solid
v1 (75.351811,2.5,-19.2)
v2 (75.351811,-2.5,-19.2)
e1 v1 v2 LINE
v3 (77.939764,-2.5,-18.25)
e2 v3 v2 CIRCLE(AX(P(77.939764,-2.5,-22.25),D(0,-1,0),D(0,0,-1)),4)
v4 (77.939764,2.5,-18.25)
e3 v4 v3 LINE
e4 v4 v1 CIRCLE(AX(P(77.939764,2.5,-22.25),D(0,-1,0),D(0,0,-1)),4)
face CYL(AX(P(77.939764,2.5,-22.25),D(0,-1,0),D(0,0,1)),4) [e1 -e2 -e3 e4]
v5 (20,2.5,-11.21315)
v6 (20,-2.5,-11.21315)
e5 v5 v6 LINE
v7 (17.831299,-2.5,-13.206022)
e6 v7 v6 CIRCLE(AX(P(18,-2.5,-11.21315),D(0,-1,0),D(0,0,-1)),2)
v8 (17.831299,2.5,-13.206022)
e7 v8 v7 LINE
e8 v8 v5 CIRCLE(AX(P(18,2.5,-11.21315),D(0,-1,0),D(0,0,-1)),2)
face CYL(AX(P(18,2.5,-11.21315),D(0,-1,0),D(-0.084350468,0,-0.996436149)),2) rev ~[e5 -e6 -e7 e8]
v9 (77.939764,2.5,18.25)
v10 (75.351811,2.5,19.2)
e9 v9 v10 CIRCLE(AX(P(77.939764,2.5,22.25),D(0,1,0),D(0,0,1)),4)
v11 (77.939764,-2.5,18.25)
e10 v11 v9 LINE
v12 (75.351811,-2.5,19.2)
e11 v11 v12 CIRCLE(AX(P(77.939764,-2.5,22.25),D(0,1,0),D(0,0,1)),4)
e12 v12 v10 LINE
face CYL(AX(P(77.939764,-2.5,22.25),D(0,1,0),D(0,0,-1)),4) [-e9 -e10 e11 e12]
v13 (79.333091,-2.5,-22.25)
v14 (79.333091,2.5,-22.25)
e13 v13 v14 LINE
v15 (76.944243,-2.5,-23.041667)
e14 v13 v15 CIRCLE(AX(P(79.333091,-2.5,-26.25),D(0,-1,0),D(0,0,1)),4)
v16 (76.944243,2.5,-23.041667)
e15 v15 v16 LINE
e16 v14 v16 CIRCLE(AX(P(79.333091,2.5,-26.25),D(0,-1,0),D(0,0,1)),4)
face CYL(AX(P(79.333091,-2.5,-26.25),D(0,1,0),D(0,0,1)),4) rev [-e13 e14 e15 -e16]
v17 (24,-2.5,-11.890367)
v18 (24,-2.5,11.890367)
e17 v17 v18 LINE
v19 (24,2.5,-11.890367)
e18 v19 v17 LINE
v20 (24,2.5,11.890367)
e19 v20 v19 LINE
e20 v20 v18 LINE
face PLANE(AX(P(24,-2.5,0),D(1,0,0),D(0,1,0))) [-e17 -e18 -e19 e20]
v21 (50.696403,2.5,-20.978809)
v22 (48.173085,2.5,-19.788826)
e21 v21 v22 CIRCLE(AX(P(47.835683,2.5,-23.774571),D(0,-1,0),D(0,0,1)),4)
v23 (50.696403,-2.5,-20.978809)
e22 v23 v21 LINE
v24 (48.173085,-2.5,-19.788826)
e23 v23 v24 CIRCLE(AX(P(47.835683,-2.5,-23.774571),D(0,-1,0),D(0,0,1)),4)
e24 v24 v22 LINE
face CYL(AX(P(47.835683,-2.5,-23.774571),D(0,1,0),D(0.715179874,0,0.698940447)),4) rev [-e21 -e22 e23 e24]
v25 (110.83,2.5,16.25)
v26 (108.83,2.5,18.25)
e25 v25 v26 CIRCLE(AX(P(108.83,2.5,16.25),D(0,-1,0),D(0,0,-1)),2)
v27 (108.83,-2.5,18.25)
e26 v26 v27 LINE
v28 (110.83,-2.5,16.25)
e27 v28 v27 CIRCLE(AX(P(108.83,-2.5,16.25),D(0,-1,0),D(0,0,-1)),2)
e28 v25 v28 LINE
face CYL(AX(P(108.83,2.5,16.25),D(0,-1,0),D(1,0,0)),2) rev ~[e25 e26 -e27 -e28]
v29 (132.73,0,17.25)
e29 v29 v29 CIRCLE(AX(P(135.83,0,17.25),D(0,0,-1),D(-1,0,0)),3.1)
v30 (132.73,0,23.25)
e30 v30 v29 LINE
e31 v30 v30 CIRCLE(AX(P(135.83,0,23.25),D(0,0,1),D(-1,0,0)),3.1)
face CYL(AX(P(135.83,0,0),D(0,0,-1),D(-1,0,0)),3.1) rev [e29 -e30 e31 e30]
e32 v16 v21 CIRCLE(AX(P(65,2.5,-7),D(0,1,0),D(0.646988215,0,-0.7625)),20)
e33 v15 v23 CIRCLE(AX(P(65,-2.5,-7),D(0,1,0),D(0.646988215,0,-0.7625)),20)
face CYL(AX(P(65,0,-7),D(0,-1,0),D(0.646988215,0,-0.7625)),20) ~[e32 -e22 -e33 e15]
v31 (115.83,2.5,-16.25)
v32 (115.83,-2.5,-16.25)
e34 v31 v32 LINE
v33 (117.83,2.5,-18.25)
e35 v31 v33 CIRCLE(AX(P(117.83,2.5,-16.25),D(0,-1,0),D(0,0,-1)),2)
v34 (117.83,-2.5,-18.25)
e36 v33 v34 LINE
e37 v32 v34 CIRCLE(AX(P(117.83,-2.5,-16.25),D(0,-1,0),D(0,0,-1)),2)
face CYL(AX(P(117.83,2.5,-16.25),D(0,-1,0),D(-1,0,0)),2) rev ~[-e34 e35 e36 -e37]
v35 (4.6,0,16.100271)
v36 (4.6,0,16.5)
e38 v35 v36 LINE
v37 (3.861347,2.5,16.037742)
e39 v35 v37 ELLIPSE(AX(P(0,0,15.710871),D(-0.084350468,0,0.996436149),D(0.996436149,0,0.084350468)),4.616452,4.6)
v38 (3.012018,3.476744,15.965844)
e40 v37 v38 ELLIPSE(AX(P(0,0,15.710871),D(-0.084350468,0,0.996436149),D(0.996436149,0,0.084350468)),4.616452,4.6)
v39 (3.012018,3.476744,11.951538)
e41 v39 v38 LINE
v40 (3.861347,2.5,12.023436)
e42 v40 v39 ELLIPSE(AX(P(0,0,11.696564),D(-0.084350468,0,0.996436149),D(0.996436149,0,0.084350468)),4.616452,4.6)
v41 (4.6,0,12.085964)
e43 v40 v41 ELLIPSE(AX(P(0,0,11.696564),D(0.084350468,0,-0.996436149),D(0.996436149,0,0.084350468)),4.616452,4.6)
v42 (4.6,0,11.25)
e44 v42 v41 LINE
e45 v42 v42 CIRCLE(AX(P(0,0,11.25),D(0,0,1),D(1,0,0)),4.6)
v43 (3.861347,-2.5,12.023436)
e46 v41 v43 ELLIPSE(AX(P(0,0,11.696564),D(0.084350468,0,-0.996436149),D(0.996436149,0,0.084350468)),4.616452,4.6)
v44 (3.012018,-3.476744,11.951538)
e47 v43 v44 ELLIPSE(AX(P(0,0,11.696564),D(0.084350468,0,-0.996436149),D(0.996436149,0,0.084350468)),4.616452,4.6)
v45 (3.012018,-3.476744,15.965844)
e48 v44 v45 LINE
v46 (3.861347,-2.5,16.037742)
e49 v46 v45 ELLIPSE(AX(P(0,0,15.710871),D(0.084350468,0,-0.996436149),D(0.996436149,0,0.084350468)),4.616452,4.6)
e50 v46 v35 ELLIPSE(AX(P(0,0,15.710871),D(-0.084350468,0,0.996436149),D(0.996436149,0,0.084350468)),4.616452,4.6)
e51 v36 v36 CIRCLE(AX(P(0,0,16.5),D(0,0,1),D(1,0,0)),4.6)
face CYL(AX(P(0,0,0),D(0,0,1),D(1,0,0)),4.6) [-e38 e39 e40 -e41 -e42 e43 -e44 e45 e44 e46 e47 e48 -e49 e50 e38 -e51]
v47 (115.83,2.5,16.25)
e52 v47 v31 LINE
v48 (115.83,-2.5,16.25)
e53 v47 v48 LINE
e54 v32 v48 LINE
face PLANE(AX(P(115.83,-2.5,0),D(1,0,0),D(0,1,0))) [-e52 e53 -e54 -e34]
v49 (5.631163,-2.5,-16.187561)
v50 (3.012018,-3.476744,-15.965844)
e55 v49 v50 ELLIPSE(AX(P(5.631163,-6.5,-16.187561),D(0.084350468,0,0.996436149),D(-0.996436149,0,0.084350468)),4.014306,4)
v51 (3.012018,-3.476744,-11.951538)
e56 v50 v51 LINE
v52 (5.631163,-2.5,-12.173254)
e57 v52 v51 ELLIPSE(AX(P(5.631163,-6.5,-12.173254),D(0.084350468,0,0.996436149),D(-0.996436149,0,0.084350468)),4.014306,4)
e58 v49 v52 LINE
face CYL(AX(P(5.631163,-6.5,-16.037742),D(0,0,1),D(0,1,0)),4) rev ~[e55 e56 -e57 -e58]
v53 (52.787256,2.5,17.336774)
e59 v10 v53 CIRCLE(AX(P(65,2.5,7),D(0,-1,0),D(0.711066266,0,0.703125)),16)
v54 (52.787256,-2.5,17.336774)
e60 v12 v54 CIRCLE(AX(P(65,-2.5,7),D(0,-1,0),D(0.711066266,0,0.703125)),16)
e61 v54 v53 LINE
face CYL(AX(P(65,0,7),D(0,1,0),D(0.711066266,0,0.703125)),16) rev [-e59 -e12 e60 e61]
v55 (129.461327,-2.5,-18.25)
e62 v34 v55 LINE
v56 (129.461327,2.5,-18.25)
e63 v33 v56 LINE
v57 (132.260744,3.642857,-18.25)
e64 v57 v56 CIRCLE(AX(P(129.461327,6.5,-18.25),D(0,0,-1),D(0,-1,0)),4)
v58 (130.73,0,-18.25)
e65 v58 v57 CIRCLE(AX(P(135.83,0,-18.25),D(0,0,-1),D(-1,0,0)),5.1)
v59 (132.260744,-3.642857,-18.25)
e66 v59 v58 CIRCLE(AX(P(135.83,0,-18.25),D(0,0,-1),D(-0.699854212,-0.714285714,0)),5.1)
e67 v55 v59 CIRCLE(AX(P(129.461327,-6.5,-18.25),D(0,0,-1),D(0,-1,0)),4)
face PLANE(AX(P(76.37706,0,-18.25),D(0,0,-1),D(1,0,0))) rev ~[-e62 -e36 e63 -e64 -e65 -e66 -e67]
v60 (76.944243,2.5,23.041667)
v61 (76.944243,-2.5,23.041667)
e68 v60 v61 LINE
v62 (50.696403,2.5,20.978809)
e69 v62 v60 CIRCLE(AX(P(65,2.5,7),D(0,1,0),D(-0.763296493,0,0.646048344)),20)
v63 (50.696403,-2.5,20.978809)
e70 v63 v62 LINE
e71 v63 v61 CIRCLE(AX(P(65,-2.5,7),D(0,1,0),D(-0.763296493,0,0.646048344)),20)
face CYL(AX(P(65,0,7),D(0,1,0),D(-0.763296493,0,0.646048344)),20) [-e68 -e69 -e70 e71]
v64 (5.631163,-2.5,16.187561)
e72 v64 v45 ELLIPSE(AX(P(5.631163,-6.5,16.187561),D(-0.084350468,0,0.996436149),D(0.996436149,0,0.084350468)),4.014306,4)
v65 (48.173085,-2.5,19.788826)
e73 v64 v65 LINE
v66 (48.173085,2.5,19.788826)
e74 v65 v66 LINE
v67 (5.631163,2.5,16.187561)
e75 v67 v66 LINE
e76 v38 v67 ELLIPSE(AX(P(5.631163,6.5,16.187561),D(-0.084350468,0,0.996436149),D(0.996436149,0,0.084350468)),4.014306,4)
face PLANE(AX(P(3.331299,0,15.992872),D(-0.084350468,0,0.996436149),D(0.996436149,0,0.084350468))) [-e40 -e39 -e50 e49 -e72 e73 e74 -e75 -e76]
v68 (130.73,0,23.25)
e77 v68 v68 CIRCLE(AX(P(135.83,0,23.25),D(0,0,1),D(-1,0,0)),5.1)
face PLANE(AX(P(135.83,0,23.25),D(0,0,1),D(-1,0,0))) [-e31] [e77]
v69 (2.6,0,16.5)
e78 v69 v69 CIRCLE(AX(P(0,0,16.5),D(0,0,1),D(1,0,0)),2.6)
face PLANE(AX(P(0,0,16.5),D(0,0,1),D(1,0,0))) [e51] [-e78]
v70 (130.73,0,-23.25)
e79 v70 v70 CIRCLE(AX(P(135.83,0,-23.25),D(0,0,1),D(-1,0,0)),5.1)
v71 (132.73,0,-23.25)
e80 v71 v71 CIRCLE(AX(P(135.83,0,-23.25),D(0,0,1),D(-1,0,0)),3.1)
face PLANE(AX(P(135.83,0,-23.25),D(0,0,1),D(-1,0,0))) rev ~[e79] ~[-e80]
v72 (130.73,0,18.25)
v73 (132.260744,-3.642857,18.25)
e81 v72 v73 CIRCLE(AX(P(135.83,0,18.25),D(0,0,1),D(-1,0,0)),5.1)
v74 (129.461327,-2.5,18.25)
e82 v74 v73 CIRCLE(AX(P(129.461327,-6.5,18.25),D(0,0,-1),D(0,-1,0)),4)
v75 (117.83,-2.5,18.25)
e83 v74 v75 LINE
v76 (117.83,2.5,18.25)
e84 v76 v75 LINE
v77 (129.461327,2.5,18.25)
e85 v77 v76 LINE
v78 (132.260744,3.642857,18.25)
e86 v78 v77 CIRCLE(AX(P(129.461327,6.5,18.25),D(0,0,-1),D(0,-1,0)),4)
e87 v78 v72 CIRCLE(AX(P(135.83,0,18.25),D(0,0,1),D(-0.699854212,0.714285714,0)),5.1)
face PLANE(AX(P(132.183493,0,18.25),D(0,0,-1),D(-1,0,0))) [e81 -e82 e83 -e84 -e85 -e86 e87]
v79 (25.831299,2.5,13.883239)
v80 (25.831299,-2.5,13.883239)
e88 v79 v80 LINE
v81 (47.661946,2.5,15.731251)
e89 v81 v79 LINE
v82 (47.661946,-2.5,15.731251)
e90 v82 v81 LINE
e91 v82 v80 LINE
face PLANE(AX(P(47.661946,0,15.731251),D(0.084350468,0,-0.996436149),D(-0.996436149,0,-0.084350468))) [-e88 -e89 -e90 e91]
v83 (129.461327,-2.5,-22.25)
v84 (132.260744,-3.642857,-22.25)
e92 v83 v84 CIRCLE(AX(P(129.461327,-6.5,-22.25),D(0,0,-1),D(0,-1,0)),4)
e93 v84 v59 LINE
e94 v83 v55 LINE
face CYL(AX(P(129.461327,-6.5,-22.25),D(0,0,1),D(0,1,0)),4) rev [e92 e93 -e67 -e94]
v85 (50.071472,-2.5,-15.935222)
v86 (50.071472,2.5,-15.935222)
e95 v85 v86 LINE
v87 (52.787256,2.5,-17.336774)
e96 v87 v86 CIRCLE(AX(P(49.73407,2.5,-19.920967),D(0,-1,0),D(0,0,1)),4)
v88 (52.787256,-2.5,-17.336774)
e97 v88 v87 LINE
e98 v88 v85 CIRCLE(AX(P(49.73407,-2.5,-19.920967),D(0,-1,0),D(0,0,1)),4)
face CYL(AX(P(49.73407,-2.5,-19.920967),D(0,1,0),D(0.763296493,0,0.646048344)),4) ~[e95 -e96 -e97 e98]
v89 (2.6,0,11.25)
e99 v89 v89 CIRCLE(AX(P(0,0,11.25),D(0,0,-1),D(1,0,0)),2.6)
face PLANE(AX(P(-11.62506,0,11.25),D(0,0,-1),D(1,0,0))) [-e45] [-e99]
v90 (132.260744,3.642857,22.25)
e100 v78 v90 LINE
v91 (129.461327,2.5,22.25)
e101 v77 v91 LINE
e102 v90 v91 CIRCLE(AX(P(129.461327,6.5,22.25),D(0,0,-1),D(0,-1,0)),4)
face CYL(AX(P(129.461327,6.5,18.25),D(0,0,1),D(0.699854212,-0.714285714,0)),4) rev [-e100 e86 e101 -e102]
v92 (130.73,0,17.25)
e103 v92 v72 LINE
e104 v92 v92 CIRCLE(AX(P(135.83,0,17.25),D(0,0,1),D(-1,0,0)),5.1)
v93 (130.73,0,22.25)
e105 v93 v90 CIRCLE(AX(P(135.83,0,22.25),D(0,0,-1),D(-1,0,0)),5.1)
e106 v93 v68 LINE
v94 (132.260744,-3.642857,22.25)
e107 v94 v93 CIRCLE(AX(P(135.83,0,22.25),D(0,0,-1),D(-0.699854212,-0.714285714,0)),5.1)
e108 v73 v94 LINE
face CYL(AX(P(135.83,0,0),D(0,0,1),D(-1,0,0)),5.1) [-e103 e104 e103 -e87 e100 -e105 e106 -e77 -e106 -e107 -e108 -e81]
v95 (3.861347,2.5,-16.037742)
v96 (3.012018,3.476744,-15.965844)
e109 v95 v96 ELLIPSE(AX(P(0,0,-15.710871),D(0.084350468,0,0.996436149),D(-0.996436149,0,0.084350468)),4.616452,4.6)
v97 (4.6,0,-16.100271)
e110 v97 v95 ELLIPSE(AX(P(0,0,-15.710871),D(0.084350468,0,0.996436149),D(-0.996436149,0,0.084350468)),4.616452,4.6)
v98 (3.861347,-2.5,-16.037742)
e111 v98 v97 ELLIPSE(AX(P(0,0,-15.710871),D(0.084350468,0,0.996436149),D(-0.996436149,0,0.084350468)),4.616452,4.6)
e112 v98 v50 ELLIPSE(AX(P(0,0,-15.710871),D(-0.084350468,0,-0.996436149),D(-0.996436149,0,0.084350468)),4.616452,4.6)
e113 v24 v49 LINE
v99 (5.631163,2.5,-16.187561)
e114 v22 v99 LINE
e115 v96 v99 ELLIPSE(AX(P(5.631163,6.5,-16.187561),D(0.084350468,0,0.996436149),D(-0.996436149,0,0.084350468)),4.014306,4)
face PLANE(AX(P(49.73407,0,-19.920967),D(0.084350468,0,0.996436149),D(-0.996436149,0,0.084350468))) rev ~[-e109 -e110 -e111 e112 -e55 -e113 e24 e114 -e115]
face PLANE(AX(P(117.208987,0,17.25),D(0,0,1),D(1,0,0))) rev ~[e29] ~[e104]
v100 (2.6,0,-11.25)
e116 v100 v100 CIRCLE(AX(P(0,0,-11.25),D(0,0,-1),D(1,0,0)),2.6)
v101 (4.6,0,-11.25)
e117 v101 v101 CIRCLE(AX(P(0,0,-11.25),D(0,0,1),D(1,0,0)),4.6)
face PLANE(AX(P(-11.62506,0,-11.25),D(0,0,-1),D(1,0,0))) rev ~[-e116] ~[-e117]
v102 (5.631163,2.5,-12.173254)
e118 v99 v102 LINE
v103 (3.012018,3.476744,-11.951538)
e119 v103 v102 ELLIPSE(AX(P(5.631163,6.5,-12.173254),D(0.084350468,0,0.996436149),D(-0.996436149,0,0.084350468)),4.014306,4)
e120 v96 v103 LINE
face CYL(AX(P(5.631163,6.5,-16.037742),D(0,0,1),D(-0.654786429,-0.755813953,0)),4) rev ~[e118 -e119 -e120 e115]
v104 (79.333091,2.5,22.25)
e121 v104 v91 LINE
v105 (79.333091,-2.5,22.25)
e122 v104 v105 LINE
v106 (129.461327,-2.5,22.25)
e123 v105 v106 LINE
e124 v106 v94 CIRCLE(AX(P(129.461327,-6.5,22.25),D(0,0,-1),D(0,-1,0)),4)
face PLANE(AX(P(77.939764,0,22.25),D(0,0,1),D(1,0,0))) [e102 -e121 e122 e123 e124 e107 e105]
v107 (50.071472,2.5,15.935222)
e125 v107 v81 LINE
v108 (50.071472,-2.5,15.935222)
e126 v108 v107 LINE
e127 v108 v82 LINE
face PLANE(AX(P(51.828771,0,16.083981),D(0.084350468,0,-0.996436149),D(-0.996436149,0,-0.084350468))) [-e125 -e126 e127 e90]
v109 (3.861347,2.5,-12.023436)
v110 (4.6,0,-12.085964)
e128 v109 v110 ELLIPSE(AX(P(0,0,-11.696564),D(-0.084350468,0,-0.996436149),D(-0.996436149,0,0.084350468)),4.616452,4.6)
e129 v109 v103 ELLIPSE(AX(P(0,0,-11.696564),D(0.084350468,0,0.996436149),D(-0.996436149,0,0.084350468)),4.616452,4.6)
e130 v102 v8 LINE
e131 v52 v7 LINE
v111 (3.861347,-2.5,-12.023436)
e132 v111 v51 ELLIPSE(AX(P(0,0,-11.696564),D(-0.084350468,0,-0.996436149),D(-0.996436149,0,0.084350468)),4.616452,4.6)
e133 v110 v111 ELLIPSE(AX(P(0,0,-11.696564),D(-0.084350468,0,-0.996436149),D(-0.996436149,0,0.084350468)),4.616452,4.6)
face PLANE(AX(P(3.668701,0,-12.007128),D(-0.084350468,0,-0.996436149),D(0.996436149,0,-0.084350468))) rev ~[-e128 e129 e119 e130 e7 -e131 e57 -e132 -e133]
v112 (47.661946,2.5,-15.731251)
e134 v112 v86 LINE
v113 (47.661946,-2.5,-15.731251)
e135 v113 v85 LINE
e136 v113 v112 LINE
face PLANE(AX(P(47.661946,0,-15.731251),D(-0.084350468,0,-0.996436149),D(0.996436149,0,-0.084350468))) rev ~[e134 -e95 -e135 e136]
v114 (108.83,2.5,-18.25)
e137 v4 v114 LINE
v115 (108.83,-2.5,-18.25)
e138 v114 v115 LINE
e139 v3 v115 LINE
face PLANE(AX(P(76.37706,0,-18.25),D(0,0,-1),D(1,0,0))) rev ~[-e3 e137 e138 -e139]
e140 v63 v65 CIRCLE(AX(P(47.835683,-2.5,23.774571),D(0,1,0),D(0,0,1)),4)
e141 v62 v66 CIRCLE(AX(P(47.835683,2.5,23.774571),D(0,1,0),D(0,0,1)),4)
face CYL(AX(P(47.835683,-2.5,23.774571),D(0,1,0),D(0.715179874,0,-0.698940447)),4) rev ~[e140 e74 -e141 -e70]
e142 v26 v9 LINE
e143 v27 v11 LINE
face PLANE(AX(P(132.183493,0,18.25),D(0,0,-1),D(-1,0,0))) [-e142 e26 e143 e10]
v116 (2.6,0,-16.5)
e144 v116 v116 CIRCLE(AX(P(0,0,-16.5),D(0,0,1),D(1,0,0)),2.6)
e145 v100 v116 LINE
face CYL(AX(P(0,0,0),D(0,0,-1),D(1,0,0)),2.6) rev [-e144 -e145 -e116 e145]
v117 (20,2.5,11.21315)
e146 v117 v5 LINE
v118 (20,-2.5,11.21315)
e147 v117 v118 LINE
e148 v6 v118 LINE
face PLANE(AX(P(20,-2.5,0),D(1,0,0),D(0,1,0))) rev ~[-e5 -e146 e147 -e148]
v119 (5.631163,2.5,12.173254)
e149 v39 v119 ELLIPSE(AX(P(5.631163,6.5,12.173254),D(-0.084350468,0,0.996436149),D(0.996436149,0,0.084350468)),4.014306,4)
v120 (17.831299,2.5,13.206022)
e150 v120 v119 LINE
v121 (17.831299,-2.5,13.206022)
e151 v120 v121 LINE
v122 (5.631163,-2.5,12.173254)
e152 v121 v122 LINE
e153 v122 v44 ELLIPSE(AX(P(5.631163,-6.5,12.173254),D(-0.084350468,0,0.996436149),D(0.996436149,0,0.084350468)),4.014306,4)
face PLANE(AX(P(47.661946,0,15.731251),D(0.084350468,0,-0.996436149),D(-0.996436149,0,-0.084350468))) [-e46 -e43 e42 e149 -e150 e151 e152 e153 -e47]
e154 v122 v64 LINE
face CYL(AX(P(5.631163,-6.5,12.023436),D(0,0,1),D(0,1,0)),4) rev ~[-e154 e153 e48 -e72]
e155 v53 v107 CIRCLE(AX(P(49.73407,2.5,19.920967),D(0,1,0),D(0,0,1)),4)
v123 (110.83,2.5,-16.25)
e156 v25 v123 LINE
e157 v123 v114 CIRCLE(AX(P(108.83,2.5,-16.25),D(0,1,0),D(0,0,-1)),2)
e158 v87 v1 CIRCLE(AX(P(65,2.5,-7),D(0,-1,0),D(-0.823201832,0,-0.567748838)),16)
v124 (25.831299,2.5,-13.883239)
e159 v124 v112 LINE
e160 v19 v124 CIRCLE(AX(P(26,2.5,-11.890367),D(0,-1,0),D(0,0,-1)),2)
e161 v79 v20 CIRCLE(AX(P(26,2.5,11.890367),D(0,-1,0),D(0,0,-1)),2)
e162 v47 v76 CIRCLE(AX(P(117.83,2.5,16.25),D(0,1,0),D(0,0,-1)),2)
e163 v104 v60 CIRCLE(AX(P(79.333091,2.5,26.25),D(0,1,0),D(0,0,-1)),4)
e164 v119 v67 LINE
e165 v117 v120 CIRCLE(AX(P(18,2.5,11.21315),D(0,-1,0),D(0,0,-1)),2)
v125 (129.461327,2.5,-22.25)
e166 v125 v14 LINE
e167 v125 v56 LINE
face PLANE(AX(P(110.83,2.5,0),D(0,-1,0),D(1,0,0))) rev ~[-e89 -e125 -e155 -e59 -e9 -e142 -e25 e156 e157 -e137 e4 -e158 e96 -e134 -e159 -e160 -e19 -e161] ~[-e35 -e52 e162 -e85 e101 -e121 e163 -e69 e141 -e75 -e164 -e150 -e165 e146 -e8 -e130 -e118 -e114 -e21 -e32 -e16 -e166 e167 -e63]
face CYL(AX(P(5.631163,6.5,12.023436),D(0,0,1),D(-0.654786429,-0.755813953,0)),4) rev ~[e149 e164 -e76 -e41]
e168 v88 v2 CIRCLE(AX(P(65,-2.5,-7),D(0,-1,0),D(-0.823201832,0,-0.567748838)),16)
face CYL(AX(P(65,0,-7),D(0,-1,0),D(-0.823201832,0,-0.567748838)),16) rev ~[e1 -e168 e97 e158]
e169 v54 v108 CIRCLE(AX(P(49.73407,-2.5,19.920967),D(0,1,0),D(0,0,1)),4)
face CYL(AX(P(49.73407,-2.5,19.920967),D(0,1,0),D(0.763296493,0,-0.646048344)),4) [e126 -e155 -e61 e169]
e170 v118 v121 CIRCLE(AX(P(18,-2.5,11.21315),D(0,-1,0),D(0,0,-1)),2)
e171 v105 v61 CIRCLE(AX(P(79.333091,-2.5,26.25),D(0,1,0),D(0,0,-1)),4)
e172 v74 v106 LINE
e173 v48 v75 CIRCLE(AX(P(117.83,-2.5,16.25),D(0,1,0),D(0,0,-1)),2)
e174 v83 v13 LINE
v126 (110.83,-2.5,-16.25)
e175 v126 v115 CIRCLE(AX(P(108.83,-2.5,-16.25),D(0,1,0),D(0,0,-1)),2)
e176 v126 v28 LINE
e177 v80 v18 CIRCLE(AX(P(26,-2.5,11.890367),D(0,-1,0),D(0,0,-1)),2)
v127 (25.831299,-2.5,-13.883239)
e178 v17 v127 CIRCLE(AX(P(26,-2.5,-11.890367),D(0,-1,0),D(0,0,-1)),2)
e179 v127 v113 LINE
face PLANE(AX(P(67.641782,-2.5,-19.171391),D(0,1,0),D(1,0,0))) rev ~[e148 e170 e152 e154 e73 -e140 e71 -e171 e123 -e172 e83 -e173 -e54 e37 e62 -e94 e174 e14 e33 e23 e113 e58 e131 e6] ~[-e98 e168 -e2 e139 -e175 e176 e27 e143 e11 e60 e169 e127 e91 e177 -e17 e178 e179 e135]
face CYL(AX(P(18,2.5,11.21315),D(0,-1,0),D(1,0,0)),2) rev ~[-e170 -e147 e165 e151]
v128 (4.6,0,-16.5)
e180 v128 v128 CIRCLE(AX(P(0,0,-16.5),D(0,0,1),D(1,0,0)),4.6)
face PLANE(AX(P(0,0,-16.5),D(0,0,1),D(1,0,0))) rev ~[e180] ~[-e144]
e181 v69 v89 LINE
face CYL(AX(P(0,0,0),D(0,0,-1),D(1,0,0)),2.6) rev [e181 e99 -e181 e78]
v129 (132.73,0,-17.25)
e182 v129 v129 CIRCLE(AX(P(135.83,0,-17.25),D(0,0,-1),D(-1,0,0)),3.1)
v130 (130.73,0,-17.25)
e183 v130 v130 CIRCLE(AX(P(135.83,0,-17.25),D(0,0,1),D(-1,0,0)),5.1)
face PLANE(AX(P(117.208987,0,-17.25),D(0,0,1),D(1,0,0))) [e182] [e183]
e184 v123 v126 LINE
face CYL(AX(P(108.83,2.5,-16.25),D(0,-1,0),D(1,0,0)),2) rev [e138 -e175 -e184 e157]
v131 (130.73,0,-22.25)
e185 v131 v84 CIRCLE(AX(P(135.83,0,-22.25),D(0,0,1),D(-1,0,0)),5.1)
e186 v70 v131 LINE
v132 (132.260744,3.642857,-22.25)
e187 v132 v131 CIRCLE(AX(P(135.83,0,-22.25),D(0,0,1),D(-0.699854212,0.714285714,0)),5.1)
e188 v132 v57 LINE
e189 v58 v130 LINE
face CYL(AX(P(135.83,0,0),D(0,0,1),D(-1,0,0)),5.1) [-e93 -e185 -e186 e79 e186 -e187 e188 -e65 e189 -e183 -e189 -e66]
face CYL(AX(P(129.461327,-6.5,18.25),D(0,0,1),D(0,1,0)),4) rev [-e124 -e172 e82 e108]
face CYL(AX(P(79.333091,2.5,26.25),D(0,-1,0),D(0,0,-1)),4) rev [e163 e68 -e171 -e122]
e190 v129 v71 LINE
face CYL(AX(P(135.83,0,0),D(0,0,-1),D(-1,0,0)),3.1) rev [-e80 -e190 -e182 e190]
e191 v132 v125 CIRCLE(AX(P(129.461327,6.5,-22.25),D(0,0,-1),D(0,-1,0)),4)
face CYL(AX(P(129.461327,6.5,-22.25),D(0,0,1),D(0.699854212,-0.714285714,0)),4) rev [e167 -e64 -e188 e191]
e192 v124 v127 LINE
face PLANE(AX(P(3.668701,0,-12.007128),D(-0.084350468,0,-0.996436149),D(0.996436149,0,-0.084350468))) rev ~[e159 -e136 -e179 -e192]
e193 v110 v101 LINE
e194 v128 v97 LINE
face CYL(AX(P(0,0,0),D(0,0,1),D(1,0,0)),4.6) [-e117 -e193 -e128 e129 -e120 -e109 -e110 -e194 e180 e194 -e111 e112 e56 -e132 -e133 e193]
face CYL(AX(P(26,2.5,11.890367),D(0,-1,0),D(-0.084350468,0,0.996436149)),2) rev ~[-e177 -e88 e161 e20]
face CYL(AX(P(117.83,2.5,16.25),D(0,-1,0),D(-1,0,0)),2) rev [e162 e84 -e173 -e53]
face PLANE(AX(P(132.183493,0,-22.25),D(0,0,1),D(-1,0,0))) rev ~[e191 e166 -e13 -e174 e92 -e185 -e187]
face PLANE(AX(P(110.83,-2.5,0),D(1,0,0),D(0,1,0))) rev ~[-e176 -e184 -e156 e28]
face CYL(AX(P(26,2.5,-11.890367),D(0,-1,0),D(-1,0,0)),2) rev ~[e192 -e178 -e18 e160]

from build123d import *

# Parameters (mm, degrees)
SKETCH_1_R          = 4.6
SKETCH_1_R_2        = 2.6
EXTRUDE_1_DEPTH     = 16.5
SKETCH_2_R          = 5.1
SKETCH_2_R_2        = 3.1
EXTRUDE_2_DEPTH     = 23.25
EXTRUDE_3_DEPTH     = 2.5
SKETCH_4_W          = 4
SKETCH_4_H          = 5
EXTRUDE_4_DEPTH     = 14
SKETCH_5_W          = 5
SKETCH_5_H          = 5
EXTRUDE_5_DEPTH     = 21
SKETCH_7_W          = 23.250119988
SKETCH_7_H          = 22.5
SKETCH_7_W_2        = 28.223053091
SKETCH_7_H_2        = 34.5
CUT_EXTRUDE_1_DEPTH = 21
FILLET_1_R          = 2
FILLET_2_R          = 4
FILLET_3_R          = 4


with BuildPart() as part:
    # 草图1 → 凸台-拉伸1 (new, symmetric)
    with BuildSketch(Plane.XY):
        Circle(SKETCH_1_R)
        Circle(SKETCH_1_R_2, mode=Mode.SUBTRACT)
    extrude(amount=EXTRUDE_1_DEPTH, both=True)



with BuildPart() as body_2:
    # 草图2 → 凸台-拉伸2 (new, symmetric)
    with BuildSketch(Plane.XY):
        with Locations(Location((135.83, 0, 0), (0, 0, 180))):
            Circle(SKETCH_2_R)
        with Locations(Location((135.83, 0, 0), (0, 0, 180))):
            Circle(SKETCH_2_R_2, mode=Mode.SUBTRACT)
    extrude(amount=EXTRUDE_2_DEPTH, both=True)


with BuildPart() as part_1:
    add(part.part)

    add(body_2.part)  # 凸台-拉伸3 merges body 2
    # 草图3 → 凸台-拉伸3 (add, symmetric)
    with BuildSketch(Plane(origin=(0, 0, 0), x_dir=(1, 0, 0), z_dir=(0, 1, 0))):
        with BuildLine():
            Line((132.183492931, 22.25), (77.939764295, 22.25))
            ThreePointArc((77.939764295, 22.25), (63.354138409, 26.932163446), (49.734070133, 19.920966887))
            Line((49.734070133, 19.920966887), (3.331299064, 15.992872298))
            Line((3.331299064, 15.992872298), (3.668700936, 12.007127702))
            Line((3.668700936, 12.007127702), (47.661946379, 15.731250754))
            Line((47.661946379, 15.731250754), (51.828770684, 16.083981413))
            ThreePointArc((51.828770684, 16.083981413), (63.593703521, 22.938077996), (76.377060253, 18.25))
            Line((76.377060253, 18.25), (81.535945694, 18.25))
            Line((81.535945694, 18.25), (132.183492931, 18.25))
            Line((132.183492931, 18.25), (132.183492931, 22.25))
        make_face()
        with BuildLine():
            Line((132.183492931, -18.25), (81.535945694, -18.25))
            Line((81.535945694, -18.25), (76.377060253, -18.25))
            ThreePointArc((76.377060253, -18.25), (63.593703521, -22.938077996), (51.828770684, -16.083981413))
            Line((51.828770684, -16.083981413), (47.661946379, -15.731250754))
            Line((47.661946379, -15.731250754), (3.668700936, -12.007127702))
            Line((3.668700936, -12.007127702), (3.331299064, -15.992872298))
            Line((3.331299064, -15.992872298), (49.734070133, -19.920966887))
            ThreePointArc((49.734070133, -19.920966887), (63.354138409, -26.932163446), (77.939764295, -22.25))
            Line((77.939764295, -22.25), (132.183492931, -22.25))
            Line((132.183492931, -22.25), (132.183492931, -18.25))
        make_face()
    extrude(amount=EXTRUDE_3_DEPTH, both=True)

    # 草图4 → 凸台-拉伸4 (add, symmetric)
    with BuildSketch(Plane.XY):
        with Locations((22, 0)):
            Rectangle(SKETCH_4_W, SKETCH_4_H)
    extrude(amount=EXTRUDE_4_DEPTH, both=True)

    # 草图5 → 凸台-拉伸5 (add, symmetric)
    with BuildSketch(Plane.XY):
        with Locations((113.33, 0)):
            Rectangle(SKETCH_5_W, SKETCH_5_H)
    extrude(amount=EXTRUDE_5_DEPTH, both=True)

    # 草图7 → 切除-拉伸1 (cut, symmetric)
    with BuildSketch(Plane(origin=(0, 0, 0), x_dir=(1, 0, 0), z_dir=(0, 1, 0))):
        Rectangle(SKETCH_7_W, SKETCH_7_H)
        with Locations((131.320513742, 0)):
            Rectangle(SKETCH_7_W_2, SKETCH_7_H_2)
    extrude(amount=CUT_EXTRUDE_1_DEPTH, both=True, mode=Mode.SUBTRACT)

    # 圆角1
    fillet_1_edges = [part_1.edges().sort_by_distance(p)[0] for p in [
        (115.83, 0, 18.25),
        (110.83, 0, 18.25),
        (110.83, 0, -18.25),
        (115.83, 0, -18.25),
        (24, 0, 13.728215991),
        (20, 0, 13.38960737),
        (20, 0, -13.38960737),
        (24, 0, -13.728215991),
    ]]
    fillet(fillet_1_edges, radius=FILLET_1_R)

    # 圆角2
    fillet_2_edges = [part_1.edges().sort_by_distance(p)[0] for p in [
        (51.828770684, 0, -16.083981413),
        (76.377060253, 0, -18.25),
        (77.939764295, 0, -22.25),
        (49.734070133, 0, -19.920966887),
        (76.377060253, 0, 18.25),
        (51.828770684, 0, 16.083981413),
        (49.734070133, 0, 19.920966887),
        (77.939764295, 0, 22.25),
    ]]
    fillet(fillet_2_edges, radius=FILLET_2_R)

    # 圆角3
    fillet_3_edges = [part_1.edges().sort_by_distance(p)[0] for p in [
        (131.384777846, -2.5, -20.25),
        (131.384777846, 2.5, -20.25),
        (131.384777846, -2.5, 20.25),
        (131.384777846, 2.5, 20.25),
        (3.861346915, 2.5, 14.030588795),
        (3.861346915, -2.5, 14.030588795),
        (3.861346915, -2.5, -14.030588795),
        (3.861346915, 2.5, -14.030588795),
    ]]
    fillet(fillet_3_edges, radius=FILLET_3_R)


solid = part_1.part
